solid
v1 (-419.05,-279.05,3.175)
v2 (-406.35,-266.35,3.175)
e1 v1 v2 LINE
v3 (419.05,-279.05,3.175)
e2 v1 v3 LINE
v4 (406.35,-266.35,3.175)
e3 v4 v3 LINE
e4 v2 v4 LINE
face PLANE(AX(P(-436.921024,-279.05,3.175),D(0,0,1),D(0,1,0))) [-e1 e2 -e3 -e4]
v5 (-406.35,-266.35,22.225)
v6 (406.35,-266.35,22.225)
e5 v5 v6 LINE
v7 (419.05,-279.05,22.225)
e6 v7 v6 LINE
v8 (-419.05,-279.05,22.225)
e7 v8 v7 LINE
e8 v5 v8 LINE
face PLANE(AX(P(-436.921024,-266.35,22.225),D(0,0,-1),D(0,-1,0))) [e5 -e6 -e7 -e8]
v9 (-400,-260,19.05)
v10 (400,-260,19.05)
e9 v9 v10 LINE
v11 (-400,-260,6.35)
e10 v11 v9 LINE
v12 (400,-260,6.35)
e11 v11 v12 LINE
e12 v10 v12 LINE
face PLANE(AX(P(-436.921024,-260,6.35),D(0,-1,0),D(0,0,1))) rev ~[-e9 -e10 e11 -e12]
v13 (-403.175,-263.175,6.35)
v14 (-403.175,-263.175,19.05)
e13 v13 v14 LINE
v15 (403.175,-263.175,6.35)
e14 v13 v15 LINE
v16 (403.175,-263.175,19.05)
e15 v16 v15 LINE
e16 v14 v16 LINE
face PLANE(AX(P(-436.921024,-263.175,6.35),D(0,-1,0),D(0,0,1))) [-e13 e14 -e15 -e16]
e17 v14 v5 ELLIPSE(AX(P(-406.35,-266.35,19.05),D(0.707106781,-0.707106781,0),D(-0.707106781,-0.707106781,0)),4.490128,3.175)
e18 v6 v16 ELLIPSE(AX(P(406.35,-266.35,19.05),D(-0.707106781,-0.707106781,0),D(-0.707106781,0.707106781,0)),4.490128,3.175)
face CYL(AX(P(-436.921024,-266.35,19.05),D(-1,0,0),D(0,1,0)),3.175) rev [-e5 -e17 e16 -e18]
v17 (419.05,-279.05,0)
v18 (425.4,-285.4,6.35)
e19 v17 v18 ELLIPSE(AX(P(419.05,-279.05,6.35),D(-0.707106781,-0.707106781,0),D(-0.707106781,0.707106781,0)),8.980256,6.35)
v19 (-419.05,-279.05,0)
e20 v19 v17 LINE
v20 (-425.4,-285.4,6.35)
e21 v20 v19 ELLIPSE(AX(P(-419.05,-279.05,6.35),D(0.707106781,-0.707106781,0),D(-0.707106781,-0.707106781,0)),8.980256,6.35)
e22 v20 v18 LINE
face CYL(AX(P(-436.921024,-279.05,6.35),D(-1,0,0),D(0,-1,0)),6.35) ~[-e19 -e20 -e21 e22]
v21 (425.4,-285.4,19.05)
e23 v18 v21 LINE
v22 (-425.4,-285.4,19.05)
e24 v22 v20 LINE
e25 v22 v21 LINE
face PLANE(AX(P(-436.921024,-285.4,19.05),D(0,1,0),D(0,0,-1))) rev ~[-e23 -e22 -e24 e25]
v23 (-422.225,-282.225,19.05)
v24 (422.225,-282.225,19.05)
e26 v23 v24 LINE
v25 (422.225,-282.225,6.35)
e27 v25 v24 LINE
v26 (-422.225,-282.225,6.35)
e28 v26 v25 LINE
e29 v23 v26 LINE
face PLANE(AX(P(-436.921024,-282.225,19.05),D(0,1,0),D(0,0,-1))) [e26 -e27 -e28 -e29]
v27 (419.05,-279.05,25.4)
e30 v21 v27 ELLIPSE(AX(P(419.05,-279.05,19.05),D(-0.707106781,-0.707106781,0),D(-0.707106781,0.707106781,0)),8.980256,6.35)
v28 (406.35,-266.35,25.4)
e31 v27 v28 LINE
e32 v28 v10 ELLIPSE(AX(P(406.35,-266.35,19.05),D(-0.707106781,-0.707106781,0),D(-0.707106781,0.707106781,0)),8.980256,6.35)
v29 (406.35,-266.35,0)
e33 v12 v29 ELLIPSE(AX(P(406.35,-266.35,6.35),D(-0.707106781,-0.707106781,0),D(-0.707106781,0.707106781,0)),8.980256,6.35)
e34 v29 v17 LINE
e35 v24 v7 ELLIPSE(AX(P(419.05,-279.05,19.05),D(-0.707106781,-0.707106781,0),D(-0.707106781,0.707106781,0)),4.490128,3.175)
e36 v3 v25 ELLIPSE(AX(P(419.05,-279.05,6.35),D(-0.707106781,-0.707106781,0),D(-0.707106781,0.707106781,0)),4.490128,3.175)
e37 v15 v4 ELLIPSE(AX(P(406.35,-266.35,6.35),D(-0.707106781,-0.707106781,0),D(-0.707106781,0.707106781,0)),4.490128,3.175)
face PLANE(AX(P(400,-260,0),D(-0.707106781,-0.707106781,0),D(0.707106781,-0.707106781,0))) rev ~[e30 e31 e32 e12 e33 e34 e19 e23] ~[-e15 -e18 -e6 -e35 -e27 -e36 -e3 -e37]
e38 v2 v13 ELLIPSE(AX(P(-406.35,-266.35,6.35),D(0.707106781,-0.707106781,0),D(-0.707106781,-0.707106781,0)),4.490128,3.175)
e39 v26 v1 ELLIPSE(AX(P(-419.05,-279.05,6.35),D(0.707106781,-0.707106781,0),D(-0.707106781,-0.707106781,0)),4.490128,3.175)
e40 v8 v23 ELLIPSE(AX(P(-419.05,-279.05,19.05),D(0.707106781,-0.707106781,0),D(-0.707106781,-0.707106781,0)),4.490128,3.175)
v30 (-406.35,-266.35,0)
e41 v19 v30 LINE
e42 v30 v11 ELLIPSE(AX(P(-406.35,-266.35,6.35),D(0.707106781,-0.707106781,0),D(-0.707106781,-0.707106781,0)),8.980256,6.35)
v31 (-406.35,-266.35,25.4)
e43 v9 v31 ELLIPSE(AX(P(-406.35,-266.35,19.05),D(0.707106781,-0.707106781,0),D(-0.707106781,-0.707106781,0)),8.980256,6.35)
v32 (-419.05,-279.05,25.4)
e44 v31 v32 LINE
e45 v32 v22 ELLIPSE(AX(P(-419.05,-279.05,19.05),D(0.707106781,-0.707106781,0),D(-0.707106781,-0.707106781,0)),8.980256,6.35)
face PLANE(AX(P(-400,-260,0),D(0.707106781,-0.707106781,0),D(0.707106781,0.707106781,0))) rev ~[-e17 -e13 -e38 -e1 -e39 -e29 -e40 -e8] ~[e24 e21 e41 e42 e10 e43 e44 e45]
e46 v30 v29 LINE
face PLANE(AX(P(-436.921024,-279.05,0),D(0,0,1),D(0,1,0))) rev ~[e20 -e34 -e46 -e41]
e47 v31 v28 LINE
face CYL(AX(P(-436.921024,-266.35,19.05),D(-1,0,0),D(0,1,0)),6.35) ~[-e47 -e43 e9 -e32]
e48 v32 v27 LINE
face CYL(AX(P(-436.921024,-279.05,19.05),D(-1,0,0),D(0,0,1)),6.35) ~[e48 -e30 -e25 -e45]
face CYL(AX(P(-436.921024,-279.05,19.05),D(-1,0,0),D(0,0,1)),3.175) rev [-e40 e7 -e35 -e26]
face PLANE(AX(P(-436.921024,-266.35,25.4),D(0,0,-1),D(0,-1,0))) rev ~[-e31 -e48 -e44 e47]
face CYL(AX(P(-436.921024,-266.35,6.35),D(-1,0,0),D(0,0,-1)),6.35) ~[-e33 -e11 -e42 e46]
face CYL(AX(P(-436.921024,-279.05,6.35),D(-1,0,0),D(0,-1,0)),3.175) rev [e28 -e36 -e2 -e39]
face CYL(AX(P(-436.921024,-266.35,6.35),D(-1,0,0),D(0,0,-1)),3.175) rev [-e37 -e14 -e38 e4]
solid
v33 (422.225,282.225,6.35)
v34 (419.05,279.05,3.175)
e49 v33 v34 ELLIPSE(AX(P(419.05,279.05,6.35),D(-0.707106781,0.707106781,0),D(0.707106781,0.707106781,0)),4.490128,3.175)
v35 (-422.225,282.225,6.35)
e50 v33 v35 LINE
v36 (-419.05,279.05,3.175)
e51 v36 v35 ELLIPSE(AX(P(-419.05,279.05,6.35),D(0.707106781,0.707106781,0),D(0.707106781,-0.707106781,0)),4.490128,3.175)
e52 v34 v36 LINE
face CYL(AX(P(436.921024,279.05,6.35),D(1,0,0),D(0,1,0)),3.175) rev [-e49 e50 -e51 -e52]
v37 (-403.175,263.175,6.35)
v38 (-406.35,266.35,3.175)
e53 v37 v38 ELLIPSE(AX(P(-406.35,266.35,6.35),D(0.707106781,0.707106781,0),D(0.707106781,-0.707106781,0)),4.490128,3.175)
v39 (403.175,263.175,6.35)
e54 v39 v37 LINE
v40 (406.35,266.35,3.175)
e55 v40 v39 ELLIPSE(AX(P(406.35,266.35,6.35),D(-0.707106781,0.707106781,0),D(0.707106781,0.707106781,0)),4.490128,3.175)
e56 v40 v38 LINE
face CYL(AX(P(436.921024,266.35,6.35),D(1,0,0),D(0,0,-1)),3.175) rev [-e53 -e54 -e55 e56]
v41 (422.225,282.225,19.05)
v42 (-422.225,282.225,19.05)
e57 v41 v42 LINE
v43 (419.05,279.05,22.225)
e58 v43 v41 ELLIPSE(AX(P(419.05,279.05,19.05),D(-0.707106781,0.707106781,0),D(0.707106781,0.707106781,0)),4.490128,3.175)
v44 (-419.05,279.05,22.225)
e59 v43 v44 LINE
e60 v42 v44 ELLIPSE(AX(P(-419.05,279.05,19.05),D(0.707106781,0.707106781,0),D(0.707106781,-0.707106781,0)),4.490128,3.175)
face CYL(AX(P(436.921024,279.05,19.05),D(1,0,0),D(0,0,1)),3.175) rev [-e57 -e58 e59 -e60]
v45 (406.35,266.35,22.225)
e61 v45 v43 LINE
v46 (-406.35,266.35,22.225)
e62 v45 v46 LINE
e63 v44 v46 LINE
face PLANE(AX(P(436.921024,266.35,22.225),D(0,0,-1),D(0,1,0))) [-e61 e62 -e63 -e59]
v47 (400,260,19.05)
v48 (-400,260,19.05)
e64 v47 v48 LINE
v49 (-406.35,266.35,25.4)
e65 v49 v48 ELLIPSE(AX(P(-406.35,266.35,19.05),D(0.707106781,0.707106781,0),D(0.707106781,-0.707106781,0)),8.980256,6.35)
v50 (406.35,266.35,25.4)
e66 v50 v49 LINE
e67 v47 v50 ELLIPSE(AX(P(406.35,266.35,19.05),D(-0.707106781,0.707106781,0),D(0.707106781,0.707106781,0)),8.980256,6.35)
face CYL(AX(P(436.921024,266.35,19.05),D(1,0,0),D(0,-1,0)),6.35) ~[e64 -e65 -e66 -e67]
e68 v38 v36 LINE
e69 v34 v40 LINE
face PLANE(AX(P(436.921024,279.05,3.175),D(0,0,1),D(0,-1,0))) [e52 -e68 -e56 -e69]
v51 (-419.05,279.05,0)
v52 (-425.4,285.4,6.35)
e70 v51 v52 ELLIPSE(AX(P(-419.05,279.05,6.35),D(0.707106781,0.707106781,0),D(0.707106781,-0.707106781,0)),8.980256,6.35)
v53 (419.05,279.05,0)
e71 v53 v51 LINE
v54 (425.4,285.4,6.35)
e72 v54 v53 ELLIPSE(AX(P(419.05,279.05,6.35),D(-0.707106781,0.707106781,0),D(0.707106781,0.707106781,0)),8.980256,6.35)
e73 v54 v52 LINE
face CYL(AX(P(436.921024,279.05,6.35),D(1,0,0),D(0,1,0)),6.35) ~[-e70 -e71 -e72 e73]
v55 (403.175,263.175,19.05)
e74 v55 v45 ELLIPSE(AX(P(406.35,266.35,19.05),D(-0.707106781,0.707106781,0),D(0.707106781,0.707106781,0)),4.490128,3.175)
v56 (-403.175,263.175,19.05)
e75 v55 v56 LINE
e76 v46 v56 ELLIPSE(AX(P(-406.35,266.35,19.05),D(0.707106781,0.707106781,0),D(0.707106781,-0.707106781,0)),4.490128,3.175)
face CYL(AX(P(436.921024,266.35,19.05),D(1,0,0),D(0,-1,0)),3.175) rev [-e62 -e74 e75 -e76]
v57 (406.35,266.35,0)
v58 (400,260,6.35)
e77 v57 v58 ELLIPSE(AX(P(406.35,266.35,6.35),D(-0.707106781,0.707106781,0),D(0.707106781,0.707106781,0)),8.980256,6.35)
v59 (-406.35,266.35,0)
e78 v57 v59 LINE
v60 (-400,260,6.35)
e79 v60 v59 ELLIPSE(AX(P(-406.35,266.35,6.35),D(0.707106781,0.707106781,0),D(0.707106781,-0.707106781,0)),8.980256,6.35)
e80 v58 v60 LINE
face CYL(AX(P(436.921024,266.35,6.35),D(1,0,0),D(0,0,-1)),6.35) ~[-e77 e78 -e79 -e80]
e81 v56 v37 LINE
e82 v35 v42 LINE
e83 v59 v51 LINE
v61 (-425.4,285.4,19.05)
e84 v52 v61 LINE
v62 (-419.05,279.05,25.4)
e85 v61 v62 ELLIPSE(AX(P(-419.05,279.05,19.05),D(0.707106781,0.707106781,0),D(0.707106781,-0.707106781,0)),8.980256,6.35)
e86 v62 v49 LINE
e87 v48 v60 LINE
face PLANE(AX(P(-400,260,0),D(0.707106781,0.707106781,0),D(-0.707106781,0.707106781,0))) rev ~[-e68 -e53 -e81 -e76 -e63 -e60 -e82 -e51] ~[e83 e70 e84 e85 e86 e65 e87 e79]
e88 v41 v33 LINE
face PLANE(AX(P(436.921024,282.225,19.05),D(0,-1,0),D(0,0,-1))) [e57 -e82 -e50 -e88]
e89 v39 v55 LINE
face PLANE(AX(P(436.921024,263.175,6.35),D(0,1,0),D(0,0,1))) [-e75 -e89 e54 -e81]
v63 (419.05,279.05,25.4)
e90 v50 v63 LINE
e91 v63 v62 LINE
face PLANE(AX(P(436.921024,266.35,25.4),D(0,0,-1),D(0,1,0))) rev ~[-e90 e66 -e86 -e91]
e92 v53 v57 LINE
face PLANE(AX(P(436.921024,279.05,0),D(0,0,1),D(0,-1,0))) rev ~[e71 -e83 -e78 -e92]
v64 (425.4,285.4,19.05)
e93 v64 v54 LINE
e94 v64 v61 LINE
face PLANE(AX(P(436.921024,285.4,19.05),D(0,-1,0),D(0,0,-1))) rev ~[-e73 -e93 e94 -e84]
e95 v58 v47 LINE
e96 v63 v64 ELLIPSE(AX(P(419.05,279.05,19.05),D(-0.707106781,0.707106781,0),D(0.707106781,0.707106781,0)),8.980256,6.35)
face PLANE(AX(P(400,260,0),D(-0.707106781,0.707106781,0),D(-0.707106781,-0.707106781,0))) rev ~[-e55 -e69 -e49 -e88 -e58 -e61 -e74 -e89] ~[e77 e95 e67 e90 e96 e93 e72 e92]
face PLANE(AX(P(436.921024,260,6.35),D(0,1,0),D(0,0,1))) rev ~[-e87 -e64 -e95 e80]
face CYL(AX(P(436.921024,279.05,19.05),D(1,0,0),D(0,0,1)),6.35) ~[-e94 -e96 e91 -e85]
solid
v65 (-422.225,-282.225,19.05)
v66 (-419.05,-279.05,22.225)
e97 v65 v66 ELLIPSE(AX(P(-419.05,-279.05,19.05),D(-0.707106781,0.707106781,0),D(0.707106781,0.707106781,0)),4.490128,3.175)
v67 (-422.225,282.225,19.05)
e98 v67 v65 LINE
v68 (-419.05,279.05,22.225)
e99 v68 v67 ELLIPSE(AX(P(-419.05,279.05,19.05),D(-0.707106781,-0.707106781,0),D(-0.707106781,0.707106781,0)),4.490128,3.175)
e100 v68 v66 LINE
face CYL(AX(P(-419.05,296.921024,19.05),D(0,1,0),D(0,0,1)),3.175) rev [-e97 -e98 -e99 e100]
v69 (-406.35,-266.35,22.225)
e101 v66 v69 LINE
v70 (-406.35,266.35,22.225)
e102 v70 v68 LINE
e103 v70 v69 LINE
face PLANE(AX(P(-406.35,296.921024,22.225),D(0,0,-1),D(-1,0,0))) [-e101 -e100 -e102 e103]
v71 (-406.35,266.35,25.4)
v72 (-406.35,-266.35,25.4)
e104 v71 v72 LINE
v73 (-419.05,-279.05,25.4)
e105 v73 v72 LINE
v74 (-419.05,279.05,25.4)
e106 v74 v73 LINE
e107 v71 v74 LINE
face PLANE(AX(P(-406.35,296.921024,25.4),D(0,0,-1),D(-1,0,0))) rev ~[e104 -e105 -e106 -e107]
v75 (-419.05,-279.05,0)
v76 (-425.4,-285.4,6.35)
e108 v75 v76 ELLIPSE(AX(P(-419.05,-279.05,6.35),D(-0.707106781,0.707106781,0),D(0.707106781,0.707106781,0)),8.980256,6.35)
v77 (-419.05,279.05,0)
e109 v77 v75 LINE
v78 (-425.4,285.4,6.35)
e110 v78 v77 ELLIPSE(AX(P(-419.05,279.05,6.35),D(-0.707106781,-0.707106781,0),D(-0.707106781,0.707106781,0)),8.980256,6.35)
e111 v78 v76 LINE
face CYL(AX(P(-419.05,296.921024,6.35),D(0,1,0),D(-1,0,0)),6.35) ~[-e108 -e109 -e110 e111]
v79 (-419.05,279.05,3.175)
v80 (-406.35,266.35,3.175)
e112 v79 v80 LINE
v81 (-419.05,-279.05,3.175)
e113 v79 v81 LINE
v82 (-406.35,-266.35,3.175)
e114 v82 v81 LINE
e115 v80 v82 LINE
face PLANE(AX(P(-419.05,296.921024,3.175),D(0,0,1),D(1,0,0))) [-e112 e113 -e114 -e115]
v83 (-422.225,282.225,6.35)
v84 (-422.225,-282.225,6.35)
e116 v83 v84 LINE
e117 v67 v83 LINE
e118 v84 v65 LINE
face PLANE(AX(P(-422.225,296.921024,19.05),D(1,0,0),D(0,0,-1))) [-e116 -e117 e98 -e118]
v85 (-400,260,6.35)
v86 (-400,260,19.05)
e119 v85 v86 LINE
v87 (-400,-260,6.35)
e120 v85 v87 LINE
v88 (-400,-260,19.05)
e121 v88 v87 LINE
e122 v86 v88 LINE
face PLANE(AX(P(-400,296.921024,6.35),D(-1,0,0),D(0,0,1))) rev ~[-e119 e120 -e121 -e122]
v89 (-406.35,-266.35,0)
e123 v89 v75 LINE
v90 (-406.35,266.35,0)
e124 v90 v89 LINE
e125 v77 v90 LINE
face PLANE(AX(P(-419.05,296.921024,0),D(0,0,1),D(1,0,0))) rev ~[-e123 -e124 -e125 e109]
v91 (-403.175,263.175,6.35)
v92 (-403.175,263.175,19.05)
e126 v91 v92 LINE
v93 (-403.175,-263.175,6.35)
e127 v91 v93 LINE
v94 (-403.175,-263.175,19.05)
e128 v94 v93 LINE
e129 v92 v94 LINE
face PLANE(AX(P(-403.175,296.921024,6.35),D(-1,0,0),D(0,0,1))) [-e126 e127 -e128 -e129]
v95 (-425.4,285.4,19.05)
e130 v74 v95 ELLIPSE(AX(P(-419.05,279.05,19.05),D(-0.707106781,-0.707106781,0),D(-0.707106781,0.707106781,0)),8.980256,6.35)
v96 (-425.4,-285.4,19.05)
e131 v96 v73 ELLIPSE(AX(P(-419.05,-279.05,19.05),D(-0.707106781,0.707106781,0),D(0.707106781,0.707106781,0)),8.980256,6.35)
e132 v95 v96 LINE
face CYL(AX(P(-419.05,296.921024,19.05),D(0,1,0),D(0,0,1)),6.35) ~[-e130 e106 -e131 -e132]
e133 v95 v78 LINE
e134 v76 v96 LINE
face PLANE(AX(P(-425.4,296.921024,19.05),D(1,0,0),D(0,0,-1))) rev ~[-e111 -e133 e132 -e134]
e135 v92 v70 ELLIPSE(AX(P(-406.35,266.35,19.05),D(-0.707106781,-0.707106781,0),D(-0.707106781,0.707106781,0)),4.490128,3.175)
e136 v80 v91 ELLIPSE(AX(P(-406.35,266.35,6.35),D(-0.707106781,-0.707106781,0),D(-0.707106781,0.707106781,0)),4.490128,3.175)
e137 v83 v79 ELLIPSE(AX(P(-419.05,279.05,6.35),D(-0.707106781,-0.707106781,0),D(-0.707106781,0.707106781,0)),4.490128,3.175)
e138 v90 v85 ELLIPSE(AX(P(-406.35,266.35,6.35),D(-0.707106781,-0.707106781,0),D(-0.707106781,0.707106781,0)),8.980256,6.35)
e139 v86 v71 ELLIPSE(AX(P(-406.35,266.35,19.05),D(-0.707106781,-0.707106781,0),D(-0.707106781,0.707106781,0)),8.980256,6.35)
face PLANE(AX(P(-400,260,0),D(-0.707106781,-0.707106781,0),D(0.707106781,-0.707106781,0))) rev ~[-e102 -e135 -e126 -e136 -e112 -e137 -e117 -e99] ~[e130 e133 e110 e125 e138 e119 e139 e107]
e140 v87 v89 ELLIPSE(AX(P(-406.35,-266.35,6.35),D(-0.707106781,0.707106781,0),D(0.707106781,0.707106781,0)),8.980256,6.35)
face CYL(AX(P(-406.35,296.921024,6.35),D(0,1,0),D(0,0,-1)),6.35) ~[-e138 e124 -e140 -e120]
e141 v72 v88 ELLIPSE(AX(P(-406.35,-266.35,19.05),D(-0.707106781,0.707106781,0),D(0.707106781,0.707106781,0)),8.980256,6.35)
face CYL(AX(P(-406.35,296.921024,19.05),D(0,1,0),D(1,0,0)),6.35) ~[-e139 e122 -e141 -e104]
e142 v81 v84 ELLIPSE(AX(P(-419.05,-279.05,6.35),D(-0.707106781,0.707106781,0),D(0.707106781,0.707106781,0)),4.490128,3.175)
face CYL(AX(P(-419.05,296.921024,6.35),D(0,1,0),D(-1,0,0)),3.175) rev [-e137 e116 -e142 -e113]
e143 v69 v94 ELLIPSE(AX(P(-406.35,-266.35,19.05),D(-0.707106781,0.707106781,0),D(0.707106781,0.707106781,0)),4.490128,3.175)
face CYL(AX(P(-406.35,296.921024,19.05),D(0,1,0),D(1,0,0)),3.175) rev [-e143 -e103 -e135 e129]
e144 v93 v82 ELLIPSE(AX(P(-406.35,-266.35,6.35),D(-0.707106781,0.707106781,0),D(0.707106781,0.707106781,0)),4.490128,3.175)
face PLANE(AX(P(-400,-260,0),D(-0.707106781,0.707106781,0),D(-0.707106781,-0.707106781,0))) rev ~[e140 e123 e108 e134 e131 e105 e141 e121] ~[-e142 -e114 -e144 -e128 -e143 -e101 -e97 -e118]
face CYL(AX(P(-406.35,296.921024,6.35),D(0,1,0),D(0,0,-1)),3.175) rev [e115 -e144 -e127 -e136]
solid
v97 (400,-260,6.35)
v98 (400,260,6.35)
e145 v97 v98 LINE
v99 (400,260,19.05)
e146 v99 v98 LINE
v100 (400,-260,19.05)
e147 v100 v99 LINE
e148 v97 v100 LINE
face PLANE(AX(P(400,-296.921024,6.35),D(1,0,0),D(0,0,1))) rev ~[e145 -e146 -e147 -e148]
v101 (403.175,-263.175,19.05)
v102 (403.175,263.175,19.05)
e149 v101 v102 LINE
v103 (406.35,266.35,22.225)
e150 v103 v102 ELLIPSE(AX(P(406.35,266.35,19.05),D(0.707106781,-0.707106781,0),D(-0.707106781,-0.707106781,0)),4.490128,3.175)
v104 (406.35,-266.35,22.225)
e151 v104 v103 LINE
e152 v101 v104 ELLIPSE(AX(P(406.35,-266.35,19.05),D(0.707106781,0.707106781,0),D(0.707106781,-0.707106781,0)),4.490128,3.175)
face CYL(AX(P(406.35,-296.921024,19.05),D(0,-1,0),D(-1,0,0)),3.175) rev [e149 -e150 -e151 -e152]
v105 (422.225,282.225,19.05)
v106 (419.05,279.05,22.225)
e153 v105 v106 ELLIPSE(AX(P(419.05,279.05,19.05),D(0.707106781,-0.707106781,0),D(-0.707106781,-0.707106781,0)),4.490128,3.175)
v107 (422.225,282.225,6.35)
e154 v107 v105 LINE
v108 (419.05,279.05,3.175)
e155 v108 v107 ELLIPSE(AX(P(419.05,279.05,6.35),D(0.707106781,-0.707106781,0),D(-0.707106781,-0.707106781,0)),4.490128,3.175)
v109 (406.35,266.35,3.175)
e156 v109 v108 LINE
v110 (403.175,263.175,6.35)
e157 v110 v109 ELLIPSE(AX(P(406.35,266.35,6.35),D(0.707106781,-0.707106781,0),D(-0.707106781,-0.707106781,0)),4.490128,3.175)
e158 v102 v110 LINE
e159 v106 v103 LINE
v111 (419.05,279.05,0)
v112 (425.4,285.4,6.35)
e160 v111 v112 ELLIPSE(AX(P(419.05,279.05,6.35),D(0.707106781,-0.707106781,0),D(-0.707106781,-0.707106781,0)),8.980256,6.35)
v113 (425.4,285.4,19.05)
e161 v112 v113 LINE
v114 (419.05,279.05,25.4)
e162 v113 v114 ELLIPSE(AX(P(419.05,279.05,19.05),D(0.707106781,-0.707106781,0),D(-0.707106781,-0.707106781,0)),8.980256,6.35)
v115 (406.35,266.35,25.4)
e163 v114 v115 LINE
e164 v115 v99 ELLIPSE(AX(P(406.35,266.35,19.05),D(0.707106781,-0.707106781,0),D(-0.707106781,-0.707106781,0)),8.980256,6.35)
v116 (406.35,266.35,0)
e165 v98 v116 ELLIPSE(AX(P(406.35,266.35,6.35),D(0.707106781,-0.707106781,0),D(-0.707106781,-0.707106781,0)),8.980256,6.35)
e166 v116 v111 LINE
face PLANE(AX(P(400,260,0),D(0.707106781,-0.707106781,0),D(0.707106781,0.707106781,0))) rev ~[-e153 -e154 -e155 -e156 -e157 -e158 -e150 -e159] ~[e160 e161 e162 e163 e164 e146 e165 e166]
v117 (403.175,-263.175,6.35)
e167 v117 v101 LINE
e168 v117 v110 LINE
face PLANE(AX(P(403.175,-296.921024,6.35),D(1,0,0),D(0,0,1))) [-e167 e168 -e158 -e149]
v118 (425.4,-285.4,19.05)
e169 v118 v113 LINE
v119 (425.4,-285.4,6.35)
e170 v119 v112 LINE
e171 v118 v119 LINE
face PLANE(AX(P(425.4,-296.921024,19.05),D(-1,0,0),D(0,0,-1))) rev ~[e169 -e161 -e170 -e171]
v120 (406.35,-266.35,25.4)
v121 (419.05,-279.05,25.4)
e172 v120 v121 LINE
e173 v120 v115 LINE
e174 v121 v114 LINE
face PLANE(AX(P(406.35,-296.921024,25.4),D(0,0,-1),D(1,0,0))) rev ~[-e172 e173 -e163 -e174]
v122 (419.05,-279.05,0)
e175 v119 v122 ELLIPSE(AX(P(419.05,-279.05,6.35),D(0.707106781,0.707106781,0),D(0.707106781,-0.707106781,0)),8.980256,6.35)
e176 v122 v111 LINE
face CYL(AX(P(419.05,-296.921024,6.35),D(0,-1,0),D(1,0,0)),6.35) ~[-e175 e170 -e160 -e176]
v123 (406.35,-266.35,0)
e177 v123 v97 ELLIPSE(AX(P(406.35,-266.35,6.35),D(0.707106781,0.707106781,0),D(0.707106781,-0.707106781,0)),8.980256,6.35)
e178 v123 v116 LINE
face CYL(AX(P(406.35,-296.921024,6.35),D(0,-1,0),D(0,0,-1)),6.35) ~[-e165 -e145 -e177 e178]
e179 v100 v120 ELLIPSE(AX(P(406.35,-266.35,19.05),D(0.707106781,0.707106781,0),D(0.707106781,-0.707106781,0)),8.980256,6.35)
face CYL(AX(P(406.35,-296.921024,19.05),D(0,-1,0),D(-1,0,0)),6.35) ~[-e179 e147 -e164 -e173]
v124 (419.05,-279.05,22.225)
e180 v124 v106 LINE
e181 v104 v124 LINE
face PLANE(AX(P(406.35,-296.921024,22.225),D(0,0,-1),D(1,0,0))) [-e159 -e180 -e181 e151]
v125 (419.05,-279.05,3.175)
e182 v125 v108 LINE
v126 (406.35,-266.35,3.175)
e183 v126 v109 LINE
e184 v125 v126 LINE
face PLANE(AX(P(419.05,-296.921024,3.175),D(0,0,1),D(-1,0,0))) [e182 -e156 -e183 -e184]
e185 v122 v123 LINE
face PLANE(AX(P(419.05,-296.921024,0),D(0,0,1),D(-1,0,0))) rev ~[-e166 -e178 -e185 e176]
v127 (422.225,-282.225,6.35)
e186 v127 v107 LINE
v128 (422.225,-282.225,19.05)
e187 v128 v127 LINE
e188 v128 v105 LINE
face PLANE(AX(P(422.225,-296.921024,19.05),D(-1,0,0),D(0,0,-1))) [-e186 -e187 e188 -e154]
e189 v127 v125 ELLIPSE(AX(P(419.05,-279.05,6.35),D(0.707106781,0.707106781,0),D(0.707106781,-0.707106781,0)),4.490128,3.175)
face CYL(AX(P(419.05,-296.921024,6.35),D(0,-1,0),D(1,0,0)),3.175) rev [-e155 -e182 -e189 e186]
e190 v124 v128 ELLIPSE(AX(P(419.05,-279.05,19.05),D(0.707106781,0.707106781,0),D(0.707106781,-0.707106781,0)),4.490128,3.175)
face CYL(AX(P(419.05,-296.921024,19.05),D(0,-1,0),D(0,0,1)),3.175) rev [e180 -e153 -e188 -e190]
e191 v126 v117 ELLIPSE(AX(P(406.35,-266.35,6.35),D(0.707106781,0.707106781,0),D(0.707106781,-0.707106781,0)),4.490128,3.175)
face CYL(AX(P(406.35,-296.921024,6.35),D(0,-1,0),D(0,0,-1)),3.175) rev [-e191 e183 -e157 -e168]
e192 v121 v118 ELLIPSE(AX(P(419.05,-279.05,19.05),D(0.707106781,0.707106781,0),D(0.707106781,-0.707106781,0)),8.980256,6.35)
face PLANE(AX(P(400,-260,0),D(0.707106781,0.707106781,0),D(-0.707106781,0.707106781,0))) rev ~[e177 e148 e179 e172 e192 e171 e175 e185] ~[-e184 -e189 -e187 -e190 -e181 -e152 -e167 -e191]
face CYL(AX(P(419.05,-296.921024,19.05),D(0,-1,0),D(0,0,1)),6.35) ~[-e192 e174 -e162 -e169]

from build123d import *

# Parameters (mm, degrees)
TUBO_CUADRADO_2_X_2_X_0_25_1_DEPTH      = 556.921024484
TUBO_CUADRADO_2_X_2_X_0_25_1_DEPTH_BACK = 36.921024484
TUBO_CUADRADO_2_X_2_X_0_25_1_2_DEPTH    = 873.842048969
TUBO_CUADRADO_2_X_2_X_0_25_1_3_DEPTH    = 593.842048969
TUBO_CUADRADO_2_X_2_X_0_25_1_4_DEPTH    = 873.842048969


with BuildPart() as part:
    # Sketch1 → Tubo cuadrado 2 X 2 X 0.25(1) (new, two sides: drawn at the far end of the back side and taken through both)
    with BuildSketch(Plane(origin=(-412.7, 260, 12.7), x_dir=(1, 0, 0), z_dir=(0, -1, 0)).offset(-TUBO_CUADRADO_2_X_2_X_0_25_1_DEPTH_BACK)):
        with BuildLine():
            Line((-6.35, -12.7), (6.35, -12.7))
            ThreePointArc((6.35, -12.7), (10.840128061, -10.840128061), (12.7, -6.35))
            Line((12.7, -6.35), (12.7, 6.35))
            ThreePointArc((12.7, 6.35), (10.840128061, 10.840128061), (6.35, 12.7))
            Line((6.35, 12.7), (-6.35, 12.7))
            ThreePointArc((-6.35, 12.7), (-10.840128061, 10.840128061), (-12.7, 6.35))
            Line((-12.7, 6.35), (-12.7, -6.35))
            ThreePointArc((-12.7, -6.35), (-10.840128061, -10.840128061), (-6.35, -12.7))
        make_face()
        with BuildLine():
            Line((-6.35, -9.525), (6.35, -9.525))
            ThreePointArc((6.35, -9.525), (8.59506403, -8.59506403), (9.525, -6.35))
            Line((9.525, -6.35), (9.525, 6.35))
            ThreePointArc((9.525, 6.35), (8.59506403, 8.59506403), (6.35, 9.525))
            Line((6.35, 9.525), (-6.35, 9.525))
            ThreePointArc((-6.35, 9.525), (-8.59506403, 8.59506403), (-9.525, 6.35))
            Line((-9.525, 6.35), (-9.525, -6.35))
            ThreePointArc((-9.525, -6.35), (-8.59506403, -8.59506403), (-6.35, -9.525))
        make_face(mode=Mode.SUBTRACT)
    extrude(amount=TUBO_CUADRADO_2_X_2_X_0_25_1_DEPTH + TUBO_CUADRADO_2_X_2_X_0_25_1_DEPTH_BACK)

    # Tubo cuadrado 2 X 2 X 0.25(1) mitre 1
    split(bisect_by=Plane(origin=(-400, 260, 0), x_dir=(0.707106781, -0.707106781, 0), z_dir=(-0.707106781, -0.707106781, 0)), keep=Keep.TOP)

    # Tubo cuadrado 2 X 2 X 0.25(1) mitre 2
    split(bisect_by=Plane(origin=(-400, -260, 0), x_dir=(-0.707106781, -0.707106781, 0), z_dir=(-0.707106781, 0.707106781, 0)), keep=Keep.TOP)


with BuildPart() as body_2:
    # Sketch1 on segment 2 (carried to segment 2) → Tubo cuadrado 2 X 2 X 0.25_1 2 (new body)
    with BuildSketch(Plane(origin=(-436.921024484, -272.7, 12.7), x_dir=(0, 1, 0), z_dir=(1, 0, 0))):
        with BuildLine():
            Line((-6.35, -12.7), (6.35, -12.7))
            ThreePointArc((6.35, -12.7), (10.840128061, -10.840128061), (12.7, -6.35))
            Line((12.7, -6.35), (12.7, 6.35))
            ThreePointArc((12.7, 6.35), (10.840128061, 10.840128061), (6.35, 12.7))
            Line((6.35, 12.7), (-6.35, 12.7))
            ThreePointArc((-6.35, 12.7), (-10.840128061, 10.840128061), (-12.7, 6.35))
            Line((-12.7, 6.35), (-12.7, -6.35))
            ThreePointArc((-12.7, -6.35), (-10.840128061, -10.840128061), (-6.35, -12.7))
        make_face()
        with BuildLine():
            Line((-6.35, -9.525), (6.35, -9.525))
            ThreePointArc((6.35, -9.525), (8.59506403, -8.59506403), (9.525, -6.35))
            Line((9.525, -6.35), (9.525, 6.35))
            ThreePointArc((9.525, 6.35), (8.59506403, 8.59506403), (6.35, 9.525))
            Line((6.35, 9.525), (-6.35, 9.525))
            ThreePointArc((-6.35, 9.525), (-8.59506403, 8.59506403), (-9.525, 6.35))
            Line((-9.525, 6.35), (-9.525, -6.35))
            ThreePointArc((-9.525, -6.35), (-8.59506403, -8.59506403), (-6.35, -9.525))
        make_face(mode=Mode.SUBTRACT)
    extrude(amount=TUBO_CUADRADO_2_X_2_X_0_25_1_2_DEPTH)

    # Tubo cuadrado 2 X 2 X 0.25_1 2 mitre 1
    split(bisect_by=Plane(origin=(-400, -260, 0), x_dir=(0.707106781, 0.707106781, 0), z_dir=(0.707106781, -0.707106781, 0)), keep=Keep.TOP)

    # Tubo cuadrado 2 X 2 X 0.25_1 2 mitre 2
    split(bisect_by=Plane(origin=(400, -260, 0), x_dir=(0.707106781, -0.707106781, 0), z_dir=(-0.707106781, -0.707106781, 0)), keep=Keep.TOP)


with BuildPart() as body_3:
    # Sketch1 on segment 3 (carried to segment 3) → Tubo cuadrado 2 X 2 X 0.25_1 3 (new body)
    with BuildSketch(Plane(origin=(412.7, -296.921024484, 12.7), x_dir=(-1, 0, 0), z_dir=(0, 1, 0))):
        with BuildLine():
            Line((-6.35, -12.7), (6.35, -12.7))
            ThreePointArc((6.35, -12.7), (10.840128061, -10.840128061), (12.7, -6.35))
            Line((12.7, -6.35), (12.7, 6.35))
            ThreePointArc((12.7, 6.35), (10.840128061, 10.840128061), (6.35, 12.7))
            Line((6.35, 12.7), (-6.35, 12.7))
            ThreePointArc((-6.35, 12.7), (-10.840128061, 10.840128061), (-12.7, 6.35))
            Line((-12.7, 6.35), (-12.7, -6.35))
            ThreePointArc((-12.7, -6.35), (-10.840128061, -10.840128061), (-6.35, -12.7))
        make_face()
        with BuildLine():
            Line((-6.35, -9.525), (6.35, -9.525))
            ThreePointArc((6.35, -9.525), (8.59506403, -8.59506403), (9.525, -6.35))
            Line((9.525, -6.35), (9.525, 6.35))
            ThreePointArc((9.525, 6.35), (8.59506403, 8.59506403), (6.35, 9.525))
            Line((6.35, 9.525), (-6.35, 9.525))
            ThreePointArc((-6.35, 9.525), (-8.59506403, 8.59506403), (-9.525, 6.35))
            Line((-9.525, 6.35), (-9.525, -6.35))
            ThreePointArc((-9.525, -6.35), (-8.59506403, -8.59506403), (-6.35, -9.525))
        make_face(mode=Mode.SUBTRACT)
    extrude(amount=TUBO_CUADRADO_2_X_2_X_0_25_1_3_DEPTH)

    # Tubo cuadrado 2 X 2 X 0.25_1 3 mitre 1
    split(bisect_by=Plane(origin=(400, 260, 0), x_dir=(0.707106781, 0.707106781, 0), z_dir=(0.707106781, -0.707106781, 0)), keep=Keep.TOP)

    # Tubo cuadrado 2 X 2 X 0.25_1 3 mitre 2
    split(bisect_by=Plane(origin=(400, -260, 0), x_dir=(-0.707106781, 0.707106781, 0), z_dir=(0.707106781, 0.707106781, 0)), keep=Keep.TOP)


with BuildPart() as body_4:
    # Sketch1 on segment 4 (carried to segment 4) → Tubo cuadrado 2 X 2 X 0.25_1 4 (new body)
    with BuildSketch(Plane(origin=(436.921024484, 272.7, 12.7), x_dir=(0, -1, 0), z_dir=(-1, 0, 0))):
        with BuildLine():
            Line((-6.35, -12.7), (6.35, -12.7))
            ThreePointArc((6.35, -12.7), (10.840128061, -10.840128061), (12.7, -6.35))
            Line((12.7, -6.35), (12.7, 6.35))
            ThreePointArc((12.7, 6.35), (10.840128061, 10.840128061), (6.35, 12.7))
            Line((6.35, 12.7), (-6.35, 12.7))
            ThreePointArc((-6.35, 12.7), (-10.840128061, 10.840128061), (-12.7, 6.35))
            Line((-12.7, 6.35), (-12.7, -6.35))
            ThreePointArc((-12.7, -6.35), (-10.840128061, -10.840128061), (-6.35, -12.7))
        make_face()
        with BuildLine():
            Line((-6.35, -9.525), (6.35, -9.525))
            ThreePointArc((6.35, -9.525), (8.59506403, -8.59506403), (9.525, -6.35))
            Line((9.525, -6.35), (9.525, 6.35))
            ThreePointArc((9.525, 6.35), (8.59506403, 8.59506403), (6.35, 9.525))
            Line((6.35, 9.525), (-6.35, 9.525))
            ThreePointArc((-6.35, 9.525), (-8.59506403, 8.59506403), (-9.525, 6.35))
            Line((-9.525, 6.35), (-9.525, -6.35))
            ThreePointArc((-9.525, -6.35), (-8.59506403, -8.59506403), (-6.35, -9.525))
        make_face(mode=Mode.SUBTRACT)
    extrude(amount=TUBO_CUADRADO_2_X_2_X_0_25_1_4_DEPTH)

    # Tubo cuadrado 2 X 2 X 0.25_1 4 mitre 1
    split(bisect_by=Plane(origin=(-400, 260, 0), x_dir=(-0.707106781, 0.707106781, 0), z_dir=(0.707106781, 0.707106781, 0)), keep=Keep.TOP)

    # Tubo cuadrado 2 X 2 X 0.25_1 4 mitre 2
    split(bisect_by=Plane(origin=(400, 260, 0), x_dir=(-0.707106781, -0.707106781, 0), z_dir=(-0.707106781, 0.707106781, 0)), keep=Keep.TOP)


solid = Compound([part.part, body_2.part, body_3.part, body_4.part])
